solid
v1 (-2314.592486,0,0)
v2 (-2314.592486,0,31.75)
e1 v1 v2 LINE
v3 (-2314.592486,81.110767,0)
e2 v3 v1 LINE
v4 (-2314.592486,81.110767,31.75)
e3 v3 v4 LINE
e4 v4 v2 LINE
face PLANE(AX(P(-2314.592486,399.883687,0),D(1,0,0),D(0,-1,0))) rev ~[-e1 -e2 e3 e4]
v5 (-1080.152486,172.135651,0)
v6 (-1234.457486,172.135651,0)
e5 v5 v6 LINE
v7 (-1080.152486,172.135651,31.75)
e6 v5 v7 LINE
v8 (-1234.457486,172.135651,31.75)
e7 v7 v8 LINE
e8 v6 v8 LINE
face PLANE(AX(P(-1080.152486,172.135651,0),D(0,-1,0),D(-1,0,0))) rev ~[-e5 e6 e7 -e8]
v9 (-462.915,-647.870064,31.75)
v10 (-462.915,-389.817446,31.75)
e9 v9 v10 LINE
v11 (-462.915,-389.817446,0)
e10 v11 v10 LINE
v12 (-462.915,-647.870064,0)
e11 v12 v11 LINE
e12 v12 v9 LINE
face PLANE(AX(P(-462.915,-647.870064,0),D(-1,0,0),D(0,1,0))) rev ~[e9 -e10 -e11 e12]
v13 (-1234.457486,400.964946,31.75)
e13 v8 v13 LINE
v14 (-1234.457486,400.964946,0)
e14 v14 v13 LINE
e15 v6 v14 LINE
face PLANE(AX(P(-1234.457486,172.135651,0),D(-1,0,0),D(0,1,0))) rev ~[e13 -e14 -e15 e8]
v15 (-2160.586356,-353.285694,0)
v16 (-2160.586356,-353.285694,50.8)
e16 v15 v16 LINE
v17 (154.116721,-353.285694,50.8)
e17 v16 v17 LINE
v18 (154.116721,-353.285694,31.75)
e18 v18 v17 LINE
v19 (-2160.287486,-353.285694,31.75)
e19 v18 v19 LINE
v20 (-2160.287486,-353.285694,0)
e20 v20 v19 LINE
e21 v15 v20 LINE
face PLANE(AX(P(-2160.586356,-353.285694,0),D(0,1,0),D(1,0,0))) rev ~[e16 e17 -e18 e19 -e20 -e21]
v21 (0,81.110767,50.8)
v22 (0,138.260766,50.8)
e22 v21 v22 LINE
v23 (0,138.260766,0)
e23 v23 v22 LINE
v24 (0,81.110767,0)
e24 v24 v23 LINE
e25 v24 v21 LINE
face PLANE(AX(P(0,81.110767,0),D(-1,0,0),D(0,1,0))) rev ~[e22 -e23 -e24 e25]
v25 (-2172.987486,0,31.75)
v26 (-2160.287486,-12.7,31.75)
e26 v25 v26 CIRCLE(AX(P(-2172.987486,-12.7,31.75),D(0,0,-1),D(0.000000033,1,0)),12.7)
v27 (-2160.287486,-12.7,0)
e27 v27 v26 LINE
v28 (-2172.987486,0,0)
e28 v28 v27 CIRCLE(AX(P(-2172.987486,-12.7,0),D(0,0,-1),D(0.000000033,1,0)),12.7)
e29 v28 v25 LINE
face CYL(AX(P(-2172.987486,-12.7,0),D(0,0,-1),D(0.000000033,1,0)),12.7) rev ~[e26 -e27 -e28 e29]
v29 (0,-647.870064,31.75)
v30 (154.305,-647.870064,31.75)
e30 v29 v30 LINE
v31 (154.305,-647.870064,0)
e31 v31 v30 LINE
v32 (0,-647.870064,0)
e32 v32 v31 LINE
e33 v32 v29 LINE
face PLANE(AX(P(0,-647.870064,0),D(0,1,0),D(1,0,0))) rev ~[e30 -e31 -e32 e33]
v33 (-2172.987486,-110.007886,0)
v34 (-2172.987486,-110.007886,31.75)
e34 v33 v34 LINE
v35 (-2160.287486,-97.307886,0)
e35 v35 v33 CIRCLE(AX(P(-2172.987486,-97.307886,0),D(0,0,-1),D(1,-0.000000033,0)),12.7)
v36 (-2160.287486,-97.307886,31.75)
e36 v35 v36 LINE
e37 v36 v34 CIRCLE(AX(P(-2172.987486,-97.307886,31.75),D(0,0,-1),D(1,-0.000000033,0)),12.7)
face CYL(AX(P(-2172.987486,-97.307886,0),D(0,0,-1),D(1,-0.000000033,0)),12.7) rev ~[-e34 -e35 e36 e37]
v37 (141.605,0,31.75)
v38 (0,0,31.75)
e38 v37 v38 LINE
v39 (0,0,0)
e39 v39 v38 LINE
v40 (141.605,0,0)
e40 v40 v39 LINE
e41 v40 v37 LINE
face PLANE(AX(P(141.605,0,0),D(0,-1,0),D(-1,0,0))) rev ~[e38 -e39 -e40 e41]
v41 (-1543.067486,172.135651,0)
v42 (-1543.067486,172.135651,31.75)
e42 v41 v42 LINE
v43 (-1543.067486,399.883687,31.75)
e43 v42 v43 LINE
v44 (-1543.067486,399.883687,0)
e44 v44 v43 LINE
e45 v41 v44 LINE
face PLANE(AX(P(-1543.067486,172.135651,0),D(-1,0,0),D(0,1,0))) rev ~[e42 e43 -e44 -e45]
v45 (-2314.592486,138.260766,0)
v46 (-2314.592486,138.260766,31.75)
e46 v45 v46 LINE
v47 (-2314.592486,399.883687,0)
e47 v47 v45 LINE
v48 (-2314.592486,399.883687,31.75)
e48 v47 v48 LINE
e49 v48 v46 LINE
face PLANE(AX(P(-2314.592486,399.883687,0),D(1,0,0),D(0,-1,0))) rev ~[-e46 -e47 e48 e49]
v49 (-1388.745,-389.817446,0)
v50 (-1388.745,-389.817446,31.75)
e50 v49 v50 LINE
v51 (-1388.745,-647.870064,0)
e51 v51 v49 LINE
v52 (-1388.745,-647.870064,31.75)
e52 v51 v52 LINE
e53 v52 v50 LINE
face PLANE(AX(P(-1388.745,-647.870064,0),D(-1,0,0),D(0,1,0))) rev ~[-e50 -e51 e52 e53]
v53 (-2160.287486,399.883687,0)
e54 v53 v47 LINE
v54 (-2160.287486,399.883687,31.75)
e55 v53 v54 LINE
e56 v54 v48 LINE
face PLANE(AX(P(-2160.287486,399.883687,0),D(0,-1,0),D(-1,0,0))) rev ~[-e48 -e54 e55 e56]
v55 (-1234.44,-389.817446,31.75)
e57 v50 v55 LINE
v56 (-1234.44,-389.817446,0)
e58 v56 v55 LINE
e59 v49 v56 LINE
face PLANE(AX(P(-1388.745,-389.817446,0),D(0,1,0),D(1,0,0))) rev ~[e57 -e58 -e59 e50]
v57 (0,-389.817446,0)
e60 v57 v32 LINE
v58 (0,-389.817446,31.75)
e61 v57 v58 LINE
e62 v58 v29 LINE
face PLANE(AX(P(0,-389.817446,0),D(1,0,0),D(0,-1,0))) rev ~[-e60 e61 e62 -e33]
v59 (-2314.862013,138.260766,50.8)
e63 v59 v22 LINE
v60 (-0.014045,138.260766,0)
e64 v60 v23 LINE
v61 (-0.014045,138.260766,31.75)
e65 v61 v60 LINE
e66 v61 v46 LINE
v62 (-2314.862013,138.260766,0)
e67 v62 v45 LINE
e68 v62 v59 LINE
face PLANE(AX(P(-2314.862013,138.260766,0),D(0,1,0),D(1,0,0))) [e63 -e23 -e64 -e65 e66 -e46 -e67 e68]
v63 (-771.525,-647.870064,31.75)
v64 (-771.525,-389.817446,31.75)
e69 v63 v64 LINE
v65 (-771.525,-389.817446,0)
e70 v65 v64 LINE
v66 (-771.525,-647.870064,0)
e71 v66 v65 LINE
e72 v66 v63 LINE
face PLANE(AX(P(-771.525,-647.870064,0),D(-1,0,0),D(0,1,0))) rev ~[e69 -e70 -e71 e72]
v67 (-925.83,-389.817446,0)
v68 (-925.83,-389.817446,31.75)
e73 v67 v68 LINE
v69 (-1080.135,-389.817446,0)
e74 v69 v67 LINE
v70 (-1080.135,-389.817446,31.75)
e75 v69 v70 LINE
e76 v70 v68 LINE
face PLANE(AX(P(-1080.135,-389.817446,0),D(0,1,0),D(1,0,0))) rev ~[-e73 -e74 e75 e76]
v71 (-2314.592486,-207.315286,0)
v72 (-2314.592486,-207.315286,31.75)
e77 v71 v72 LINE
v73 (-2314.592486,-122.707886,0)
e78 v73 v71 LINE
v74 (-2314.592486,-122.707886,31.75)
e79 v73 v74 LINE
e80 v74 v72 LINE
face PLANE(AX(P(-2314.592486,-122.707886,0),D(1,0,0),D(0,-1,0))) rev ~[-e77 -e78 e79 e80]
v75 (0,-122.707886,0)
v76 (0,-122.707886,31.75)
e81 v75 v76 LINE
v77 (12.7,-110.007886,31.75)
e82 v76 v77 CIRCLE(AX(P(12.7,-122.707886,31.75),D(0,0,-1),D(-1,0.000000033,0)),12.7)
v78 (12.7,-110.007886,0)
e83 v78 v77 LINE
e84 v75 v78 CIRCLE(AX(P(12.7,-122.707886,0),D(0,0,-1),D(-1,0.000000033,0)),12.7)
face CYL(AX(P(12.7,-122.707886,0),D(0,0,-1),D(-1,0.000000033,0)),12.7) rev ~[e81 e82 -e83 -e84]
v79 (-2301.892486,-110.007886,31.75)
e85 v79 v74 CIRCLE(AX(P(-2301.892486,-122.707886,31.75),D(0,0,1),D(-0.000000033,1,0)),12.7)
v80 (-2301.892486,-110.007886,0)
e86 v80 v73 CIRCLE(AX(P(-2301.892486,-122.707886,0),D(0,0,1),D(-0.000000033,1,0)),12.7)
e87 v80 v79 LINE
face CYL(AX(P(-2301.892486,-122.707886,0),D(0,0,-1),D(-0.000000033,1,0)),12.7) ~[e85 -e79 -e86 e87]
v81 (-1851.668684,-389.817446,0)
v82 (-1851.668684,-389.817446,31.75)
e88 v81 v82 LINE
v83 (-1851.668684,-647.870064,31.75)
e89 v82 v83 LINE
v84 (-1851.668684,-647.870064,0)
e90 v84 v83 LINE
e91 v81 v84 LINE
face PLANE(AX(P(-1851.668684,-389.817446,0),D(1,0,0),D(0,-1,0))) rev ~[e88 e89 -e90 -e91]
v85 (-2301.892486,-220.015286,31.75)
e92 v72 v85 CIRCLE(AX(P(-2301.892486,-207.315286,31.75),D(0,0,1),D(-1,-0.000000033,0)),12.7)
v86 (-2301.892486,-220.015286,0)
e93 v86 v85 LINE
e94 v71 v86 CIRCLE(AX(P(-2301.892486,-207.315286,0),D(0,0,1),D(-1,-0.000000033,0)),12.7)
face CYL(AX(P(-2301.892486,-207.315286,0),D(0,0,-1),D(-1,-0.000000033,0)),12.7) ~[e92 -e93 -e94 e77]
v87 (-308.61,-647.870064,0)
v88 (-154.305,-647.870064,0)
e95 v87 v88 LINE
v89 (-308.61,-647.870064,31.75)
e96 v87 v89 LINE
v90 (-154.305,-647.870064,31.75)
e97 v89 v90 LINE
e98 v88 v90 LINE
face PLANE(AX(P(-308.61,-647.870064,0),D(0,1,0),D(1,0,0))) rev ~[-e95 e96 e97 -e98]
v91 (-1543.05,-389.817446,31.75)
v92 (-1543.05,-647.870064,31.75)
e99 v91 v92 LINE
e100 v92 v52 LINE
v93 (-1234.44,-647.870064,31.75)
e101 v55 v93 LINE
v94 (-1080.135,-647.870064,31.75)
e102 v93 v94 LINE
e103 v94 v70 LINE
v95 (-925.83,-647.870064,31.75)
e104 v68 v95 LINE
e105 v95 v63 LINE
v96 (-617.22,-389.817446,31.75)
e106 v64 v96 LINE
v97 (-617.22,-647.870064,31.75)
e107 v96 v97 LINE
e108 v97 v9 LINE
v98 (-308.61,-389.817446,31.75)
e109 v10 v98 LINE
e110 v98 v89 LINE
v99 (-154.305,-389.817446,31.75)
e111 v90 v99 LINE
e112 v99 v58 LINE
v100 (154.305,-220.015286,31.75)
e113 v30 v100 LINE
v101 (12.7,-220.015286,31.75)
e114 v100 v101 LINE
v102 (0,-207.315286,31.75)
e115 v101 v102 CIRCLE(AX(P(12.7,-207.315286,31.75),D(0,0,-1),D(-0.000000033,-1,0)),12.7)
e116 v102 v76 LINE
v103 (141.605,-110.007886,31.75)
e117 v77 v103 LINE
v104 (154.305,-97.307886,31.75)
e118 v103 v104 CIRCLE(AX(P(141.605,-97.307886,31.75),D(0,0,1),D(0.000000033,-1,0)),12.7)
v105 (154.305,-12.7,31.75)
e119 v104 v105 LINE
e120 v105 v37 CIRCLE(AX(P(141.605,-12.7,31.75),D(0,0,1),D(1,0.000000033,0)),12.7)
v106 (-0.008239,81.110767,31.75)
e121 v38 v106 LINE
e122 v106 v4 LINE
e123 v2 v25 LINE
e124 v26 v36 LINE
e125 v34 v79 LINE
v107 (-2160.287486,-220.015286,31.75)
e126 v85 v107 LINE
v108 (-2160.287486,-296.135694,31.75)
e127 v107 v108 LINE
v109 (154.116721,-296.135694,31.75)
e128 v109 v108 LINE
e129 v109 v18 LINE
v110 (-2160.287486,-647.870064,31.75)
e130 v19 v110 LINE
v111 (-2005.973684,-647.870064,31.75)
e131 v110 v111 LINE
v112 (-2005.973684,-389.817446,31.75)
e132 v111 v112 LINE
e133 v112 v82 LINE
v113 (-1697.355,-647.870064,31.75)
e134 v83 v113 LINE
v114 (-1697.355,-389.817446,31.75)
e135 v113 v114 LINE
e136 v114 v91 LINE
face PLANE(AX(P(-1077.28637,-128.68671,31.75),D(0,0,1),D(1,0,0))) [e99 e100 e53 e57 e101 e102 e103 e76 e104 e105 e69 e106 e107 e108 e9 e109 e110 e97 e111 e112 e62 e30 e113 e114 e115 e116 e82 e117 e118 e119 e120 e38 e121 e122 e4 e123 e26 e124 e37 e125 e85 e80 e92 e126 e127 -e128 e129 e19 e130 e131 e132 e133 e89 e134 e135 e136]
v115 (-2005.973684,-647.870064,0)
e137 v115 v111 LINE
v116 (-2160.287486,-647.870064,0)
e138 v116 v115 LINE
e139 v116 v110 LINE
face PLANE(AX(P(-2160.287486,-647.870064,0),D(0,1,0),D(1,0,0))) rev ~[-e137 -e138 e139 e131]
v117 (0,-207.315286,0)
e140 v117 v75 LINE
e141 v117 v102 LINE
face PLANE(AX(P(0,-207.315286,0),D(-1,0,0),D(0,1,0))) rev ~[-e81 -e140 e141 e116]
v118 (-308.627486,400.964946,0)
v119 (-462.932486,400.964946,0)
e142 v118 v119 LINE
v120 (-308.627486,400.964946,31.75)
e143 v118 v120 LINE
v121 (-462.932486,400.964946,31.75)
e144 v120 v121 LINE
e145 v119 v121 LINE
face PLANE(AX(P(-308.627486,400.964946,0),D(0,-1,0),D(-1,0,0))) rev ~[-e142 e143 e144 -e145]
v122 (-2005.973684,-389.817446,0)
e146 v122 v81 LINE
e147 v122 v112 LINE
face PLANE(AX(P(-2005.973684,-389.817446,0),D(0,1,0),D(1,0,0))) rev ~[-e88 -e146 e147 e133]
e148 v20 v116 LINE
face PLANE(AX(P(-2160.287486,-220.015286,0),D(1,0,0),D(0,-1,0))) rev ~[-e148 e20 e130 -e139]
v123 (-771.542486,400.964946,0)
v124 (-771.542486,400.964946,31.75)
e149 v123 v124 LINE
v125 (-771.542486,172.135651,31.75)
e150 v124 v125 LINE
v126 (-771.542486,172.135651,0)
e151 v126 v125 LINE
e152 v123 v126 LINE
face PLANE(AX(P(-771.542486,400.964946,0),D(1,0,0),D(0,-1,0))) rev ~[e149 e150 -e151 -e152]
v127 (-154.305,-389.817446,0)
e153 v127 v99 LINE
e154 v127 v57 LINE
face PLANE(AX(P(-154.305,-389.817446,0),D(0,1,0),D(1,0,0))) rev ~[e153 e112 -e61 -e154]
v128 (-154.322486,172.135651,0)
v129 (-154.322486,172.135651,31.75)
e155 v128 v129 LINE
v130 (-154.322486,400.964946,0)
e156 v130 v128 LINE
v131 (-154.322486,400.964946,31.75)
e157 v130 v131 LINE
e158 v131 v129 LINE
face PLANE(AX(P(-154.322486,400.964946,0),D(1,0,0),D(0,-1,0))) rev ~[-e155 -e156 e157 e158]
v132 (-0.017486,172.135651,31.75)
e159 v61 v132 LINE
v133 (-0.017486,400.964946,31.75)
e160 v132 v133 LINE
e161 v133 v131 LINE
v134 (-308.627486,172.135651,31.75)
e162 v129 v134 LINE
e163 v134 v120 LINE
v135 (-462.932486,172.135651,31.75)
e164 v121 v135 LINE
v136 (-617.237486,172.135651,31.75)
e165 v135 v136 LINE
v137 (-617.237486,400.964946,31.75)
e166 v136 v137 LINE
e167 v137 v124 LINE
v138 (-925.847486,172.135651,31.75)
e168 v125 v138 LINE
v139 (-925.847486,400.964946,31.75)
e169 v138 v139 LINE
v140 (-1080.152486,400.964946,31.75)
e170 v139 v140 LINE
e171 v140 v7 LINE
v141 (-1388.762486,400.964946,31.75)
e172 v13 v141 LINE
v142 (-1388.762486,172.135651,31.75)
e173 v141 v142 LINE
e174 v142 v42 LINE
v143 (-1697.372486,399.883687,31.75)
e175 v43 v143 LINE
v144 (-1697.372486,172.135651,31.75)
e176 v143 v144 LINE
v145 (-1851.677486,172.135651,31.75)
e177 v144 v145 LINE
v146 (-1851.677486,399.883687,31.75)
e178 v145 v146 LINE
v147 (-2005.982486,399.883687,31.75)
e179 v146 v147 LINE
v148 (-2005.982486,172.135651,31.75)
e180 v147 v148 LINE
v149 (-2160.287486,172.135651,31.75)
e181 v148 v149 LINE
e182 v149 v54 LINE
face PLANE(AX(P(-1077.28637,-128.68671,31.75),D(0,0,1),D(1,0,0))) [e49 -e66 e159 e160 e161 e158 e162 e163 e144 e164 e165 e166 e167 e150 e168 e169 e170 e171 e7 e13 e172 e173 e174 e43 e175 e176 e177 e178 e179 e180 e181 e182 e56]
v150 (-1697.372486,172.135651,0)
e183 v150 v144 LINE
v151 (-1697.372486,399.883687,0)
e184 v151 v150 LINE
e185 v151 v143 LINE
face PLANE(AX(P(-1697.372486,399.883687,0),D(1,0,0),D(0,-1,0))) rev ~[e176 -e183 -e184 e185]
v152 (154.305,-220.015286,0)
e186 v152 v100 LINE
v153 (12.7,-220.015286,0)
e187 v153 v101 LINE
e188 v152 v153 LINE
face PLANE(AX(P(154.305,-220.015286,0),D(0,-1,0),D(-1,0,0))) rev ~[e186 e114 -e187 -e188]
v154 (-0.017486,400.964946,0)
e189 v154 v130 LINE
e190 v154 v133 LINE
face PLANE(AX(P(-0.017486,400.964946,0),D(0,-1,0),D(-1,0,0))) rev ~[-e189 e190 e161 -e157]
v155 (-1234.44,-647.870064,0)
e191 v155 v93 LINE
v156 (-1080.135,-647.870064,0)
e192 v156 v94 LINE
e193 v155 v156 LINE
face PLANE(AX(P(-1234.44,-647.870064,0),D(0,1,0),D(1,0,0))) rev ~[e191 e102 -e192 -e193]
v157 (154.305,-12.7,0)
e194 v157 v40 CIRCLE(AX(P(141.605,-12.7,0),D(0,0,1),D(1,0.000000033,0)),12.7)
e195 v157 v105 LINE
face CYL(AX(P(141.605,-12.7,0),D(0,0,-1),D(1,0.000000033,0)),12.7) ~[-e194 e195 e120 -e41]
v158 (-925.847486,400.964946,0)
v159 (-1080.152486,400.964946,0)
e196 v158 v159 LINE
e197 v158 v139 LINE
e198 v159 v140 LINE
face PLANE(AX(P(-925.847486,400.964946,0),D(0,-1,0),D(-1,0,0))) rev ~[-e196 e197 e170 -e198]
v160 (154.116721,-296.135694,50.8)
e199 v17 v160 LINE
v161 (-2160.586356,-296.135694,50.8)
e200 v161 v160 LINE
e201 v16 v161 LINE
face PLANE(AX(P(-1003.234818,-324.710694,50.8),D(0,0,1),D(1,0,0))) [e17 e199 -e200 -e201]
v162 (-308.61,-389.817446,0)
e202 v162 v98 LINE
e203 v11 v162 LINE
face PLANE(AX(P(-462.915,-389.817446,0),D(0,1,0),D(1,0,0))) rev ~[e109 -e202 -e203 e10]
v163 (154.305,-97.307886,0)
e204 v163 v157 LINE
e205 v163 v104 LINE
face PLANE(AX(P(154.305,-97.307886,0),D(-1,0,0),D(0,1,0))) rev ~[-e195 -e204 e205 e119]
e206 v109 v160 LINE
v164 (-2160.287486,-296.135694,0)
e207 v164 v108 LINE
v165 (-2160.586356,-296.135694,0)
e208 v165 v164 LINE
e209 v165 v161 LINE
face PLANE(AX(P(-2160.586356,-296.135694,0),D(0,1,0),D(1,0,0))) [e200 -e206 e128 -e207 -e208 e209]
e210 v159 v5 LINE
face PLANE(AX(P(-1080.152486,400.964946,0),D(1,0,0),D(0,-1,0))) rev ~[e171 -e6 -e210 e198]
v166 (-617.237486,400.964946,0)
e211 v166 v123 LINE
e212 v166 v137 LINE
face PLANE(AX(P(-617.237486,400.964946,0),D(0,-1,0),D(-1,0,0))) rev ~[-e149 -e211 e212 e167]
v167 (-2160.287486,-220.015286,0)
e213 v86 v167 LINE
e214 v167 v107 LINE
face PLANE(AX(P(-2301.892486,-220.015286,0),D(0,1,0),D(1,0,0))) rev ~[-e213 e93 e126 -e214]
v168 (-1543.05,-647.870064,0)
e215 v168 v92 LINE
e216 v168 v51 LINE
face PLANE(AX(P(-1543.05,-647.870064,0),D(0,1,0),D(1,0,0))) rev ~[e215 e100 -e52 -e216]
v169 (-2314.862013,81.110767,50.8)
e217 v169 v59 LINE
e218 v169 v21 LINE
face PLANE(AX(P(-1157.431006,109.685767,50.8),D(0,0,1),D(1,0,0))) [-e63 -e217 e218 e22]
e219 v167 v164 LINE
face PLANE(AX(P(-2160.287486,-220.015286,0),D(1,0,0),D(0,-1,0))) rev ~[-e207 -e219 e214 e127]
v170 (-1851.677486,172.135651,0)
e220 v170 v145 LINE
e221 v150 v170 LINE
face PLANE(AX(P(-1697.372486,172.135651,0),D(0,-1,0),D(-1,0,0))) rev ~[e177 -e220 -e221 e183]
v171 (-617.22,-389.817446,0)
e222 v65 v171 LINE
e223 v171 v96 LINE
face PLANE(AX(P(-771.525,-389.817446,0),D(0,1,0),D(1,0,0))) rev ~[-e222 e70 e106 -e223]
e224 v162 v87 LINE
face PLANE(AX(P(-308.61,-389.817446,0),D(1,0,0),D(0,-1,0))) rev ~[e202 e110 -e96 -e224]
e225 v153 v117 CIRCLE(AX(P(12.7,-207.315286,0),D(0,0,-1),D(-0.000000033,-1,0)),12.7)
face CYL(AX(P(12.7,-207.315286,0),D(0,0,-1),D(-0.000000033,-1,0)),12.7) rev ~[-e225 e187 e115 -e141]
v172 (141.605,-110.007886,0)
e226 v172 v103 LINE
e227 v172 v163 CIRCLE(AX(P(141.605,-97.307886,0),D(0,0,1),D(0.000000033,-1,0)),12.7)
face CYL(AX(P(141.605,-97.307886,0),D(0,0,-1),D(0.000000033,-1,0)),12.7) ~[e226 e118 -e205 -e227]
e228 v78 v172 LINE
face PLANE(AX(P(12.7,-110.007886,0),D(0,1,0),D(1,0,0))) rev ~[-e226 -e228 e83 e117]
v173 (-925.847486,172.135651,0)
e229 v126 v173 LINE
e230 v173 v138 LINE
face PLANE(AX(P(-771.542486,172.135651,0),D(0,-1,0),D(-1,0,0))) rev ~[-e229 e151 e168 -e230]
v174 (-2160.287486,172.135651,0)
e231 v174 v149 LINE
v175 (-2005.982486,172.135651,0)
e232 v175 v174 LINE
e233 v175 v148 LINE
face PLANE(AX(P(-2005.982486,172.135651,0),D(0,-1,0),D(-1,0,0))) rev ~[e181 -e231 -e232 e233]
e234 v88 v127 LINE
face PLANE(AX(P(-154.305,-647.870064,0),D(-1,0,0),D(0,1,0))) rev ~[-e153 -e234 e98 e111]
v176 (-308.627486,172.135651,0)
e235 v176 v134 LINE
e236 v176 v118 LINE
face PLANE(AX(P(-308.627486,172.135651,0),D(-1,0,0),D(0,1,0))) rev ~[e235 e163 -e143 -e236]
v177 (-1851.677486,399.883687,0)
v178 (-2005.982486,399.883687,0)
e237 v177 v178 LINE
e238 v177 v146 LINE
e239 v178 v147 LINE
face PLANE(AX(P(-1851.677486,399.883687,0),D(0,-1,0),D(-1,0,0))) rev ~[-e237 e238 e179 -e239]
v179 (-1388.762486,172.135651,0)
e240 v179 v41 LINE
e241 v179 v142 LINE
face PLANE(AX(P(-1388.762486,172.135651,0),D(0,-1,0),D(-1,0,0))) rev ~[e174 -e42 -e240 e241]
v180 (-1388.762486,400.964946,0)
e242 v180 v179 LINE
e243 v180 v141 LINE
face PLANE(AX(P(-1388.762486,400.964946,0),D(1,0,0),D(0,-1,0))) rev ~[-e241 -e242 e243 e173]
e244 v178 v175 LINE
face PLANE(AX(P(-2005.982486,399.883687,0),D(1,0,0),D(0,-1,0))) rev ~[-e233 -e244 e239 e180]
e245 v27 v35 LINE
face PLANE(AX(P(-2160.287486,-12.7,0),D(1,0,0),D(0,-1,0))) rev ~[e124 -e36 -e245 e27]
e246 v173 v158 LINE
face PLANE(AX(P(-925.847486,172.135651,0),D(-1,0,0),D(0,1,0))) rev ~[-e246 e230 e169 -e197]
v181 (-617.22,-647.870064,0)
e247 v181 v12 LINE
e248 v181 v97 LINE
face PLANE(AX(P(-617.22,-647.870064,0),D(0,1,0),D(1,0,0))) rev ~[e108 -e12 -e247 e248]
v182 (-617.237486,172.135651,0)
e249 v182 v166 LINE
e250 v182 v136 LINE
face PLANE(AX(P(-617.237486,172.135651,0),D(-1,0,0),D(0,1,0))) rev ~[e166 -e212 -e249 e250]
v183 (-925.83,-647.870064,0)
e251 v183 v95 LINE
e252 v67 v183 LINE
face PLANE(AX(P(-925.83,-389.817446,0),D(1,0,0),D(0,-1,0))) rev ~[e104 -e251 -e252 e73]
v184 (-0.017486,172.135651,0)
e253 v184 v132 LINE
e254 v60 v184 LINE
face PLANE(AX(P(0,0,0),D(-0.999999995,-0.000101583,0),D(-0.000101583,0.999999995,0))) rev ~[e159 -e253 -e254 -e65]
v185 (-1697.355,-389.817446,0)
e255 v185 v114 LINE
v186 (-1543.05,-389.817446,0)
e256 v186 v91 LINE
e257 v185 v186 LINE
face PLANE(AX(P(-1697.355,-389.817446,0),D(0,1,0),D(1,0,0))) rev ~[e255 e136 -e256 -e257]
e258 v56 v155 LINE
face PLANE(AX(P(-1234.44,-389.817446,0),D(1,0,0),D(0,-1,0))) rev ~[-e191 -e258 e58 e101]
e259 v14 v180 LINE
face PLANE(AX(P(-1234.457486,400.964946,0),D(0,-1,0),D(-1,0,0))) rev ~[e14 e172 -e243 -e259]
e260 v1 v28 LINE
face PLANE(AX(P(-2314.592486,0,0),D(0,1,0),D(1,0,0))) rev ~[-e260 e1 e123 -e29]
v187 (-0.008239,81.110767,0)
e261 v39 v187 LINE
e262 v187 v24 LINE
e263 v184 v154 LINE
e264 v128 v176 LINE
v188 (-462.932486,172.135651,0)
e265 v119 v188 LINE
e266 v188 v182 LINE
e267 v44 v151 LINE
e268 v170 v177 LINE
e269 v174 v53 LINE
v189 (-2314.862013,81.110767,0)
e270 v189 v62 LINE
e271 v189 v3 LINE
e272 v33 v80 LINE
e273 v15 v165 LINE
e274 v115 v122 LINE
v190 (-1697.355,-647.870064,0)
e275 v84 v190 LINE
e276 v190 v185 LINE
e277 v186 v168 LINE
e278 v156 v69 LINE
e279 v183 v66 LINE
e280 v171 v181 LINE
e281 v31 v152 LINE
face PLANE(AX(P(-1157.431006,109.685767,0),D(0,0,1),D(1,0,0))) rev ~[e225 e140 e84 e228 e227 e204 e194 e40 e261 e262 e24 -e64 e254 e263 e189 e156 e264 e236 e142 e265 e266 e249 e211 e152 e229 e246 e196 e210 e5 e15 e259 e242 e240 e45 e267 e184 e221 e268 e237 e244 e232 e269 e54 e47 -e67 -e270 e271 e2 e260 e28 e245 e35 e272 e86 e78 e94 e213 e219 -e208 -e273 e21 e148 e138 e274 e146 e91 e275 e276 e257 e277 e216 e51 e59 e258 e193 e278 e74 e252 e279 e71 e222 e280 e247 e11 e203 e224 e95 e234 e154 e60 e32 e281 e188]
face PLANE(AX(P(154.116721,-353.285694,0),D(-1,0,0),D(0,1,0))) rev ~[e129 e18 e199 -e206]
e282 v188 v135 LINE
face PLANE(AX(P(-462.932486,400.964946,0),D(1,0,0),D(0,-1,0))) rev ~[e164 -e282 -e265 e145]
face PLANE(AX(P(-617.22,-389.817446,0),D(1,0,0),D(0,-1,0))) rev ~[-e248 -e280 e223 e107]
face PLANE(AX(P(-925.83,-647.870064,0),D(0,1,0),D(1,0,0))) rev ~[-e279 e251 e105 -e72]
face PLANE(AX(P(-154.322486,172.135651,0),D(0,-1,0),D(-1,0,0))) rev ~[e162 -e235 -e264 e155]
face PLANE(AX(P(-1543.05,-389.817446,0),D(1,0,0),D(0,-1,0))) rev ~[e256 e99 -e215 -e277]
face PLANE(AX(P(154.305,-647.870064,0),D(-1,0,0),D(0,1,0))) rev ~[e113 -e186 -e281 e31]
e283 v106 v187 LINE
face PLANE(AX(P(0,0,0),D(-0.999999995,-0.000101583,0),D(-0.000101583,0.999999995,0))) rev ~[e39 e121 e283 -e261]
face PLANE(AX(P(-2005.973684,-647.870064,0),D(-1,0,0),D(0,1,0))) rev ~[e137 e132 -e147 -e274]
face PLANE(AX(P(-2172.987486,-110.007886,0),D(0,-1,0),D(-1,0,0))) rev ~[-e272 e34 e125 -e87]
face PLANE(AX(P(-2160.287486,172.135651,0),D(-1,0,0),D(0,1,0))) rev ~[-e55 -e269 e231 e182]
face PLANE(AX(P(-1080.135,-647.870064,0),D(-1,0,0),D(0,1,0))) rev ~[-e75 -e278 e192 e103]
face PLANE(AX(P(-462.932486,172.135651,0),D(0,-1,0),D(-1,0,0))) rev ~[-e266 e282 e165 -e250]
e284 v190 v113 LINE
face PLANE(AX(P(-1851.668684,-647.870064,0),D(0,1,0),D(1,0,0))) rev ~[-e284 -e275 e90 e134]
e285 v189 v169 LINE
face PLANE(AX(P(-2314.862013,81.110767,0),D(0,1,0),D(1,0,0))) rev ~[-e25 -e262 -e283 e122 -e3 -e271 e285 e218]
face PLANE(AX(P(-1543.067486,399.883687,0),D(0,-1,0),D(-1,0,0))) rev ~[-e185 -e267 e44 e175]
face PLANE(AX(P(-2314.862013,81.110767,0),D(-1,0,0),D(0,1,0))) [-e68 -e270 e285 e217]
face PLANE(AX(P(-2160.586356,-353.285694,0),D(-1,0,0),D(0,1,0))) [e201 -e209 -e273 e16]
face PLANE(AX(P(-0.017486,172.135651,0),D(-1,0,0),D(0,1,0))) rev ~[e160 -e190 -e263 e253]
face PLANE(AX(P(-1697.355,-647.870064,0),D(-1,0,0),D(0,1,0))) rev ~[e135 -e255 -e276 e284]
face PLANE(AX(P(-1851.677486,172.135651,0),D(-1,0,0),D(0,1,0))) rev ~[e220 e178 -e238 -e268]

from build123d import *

# Parameters (mm, degrees)
F2_DEPTH = 31.75
F1_W     = 2314.862013
F1_H     = 57.149999
F1_W_2   = 2314.703077
F1_H_2   = 57.15
F3_DEPTH = 50.8


with BuildPart() as f2:
    # F0 (on Top) → F2 (new body)
    with BuildSketch(Plane.XY):
        with BuildLine():
            Line((141.605, 0), (0, 0))
            Line((0, 0), (-0.017486, 172.135651))
            Line((-0.017486, 172.135651), (-0.017486, 400.964946))
            Line((-0.017486, 400.964946), (-154.322486, 400.964946))
            Line((-154.322486, 400.964946), (-154.322486, 172.135651))
            Line((-154.322486, 172.135651), (-308.627486, 172.135651))
            Line((-308.627486, 172.135651), (-308.627486, 400.964946))
            Line((-308.627486, 400.964946), (-462.932486, 400.964946))
            Line((-462.932486, 400.964946), (-462.932486, 172.135651))
            Line((-462.932486, 172.135651), (-617.237486, 172.135651))
            Line((-617.237486, 172.135651), (-617.237486, 400.964946))
            Line((-617.237486, 400.964946), (-771.542486, 400.964946))
            Line((-771.542486, 400.964946), (-771.542486, 172.135651))
            Line((-771.542486, 172.135651), (-925.847486, 172.135651))
            Line((-925.847486, 172.135651), (-925.847486, 400.964946))
            Line((-925.847486, 400.964946), (-1080.152486, 400.964946))
            Line((-1080.152486, 400.964946), (-1080.152486, 172.135651))
            Line((-1080.152486, 172.135651), (-1234.457486, 172.135651))
            Line((-1234.457486, 172.135651), (-1234.457486, 400.964946))
            Line((-1234.457486, 400.964946), (-1388.762486, 400.964946))
            Line((-1388.762486, 400.964946), (-1388.762486, 172.135651))
            Line((-1388.762486, 172.135651), (-1543.067486, 172.135651))
            Line((-1543.067486, 172.135651), (-1543.067486, 399.883687))
            Line((-1543.067486, 399.883687), (-1697.372486, 399.883687))
            Line((-1697.372486, 399.883687), (-1697.372486, 172.135651))
            Line((-1697.372486, 172.135651), (-1851.677486, 172.135651))
            Line((-1851.677486, 172.135651), (-1851.677486, 399.883687))
            Line((-1851.677486, 399.883687), (-2005.982486, 399.883687))
            Line((-2005.982486, 399.883687), (-2005.982486, 172.135651))
            Line((-2005.982486, 172.135651), (-2160.287486, 172.135651))
            Line((-2160.287486, 172.135651), (-2160.287486, 399.883687))
            Line((-2160.287486, 399.883687), (-2314.592486, 399.883687))
            Line((-2314.592486, 399.883687), (-2314.592486, 0))
            Line((-2314.592486, 0), (-2172.987486, 0))
            ThreePointArc((-2172.987486, 0), (-2164.00723, -3.719744), (-2160.287486, -12.7))
            Line((-2160.287486, -12.7), (-2160.287486, -97.307886))
            ThreePointArc((-2160.287486, -97.307886), (-2164.00723, -106.288142), (-2172.987486, -110.007886))
            Line((-2172.987486, -110.007886), (-2301.892486, -110.007886))
            ThreePointArc((-2301.892486, -110.007886), (-2310.872742, -113.72763), (-2314.592486, -122.707886))
            Line((-2314.592486, -122.707886), (-2314.592486, -207.315286))
            ThreePointArc((-2314.592486, -207.315286), (-2310.872742, -216.295542), (-2301.892486, -220.015286))
            Line((-2301.892486, -220.015286), (-2160.287486, -220.015286))
            Line((-2160.287486, -220.015286), (-2160.287486, -647.870064))
            Line((-2160.287486, -647.870064), (-2005.973684, -647.870064))
            Line((-2005.973684, -647.870064), (-2005.973684, -389.817446))
            Line((-2005.973684, -389.817446), (-1851.668684, -389.817446))
            Line((-1851.668684, -389.817446), (-1851.668684, -647.870064))
            Line((-1851.668684, -647.870064), (-1697.355, -647.870064))
            Line((-1697.355, -647.870064), (-1697.355, -389.817446))
            Line((-1697.355, -389.817446), (-1543.05, -389.817446))
            Line((-1543.05, -389.817446), (-1543.05, -647.870064))
            Line((-1543.05, -647.870064), (-1388.745, -647.870064))
            Line((-1388.745, -647.870064), (-1388.745, -389.817446))
            Line((-1388.745, -389.817446), (-1234.44, -389.817446))
            Line((-1234.44, -389.817446), (-1234.44, -647.870064))
            Line((-1234.44, -647.870064), (-1080.135, -647.870064))
            Line((-1080.135, -647.870064), (-1080.135, -389.817446))
            Line((-1080.135, -389.817446), (-925.83, -389.817446))
            Line((-925.83, -389.817446), (-925.83, -647.870064))
            Line((-925.83, -647.870064), (-771.525, -647.870064))
            Line((-771.525, -647.870064), (-771.525, -389.817446))
            Line((-771.525, -389.817446), (-617.22, -389.817446))
            Line((-617.22, -389.817446), (-617.22, -647.870064))
            Line((-617.22, -647.870064), (-462.915, -647.870064))
            Line((-462.915, -647.870064), (-462.915, -389.817446))
            Line((-462.915, -389.817446), (-308.61, -389.817446))
            Line((-308.61, -389.817446), (-308.61, -647.870064))
            Line((-308.61, -647.870064), (-154.305, -647.870064))
            Line((-154.305, -647.870064), (-154.305, -389.817446))
            Line((-154.305, -389.817446), (0, -389.817446))
            Line((0, -389.817446), (0, -647.870064))
            Line((0, -647.870064), (154.305, -647.870064))
            Line((154.305, -647.870064), (154.305, -220.015286))
            Line((154.305, -220.015286), (12.7, -220.015286))
            ThreePointArc((12.7, -220.015286), (3.719744, -216.295542), (0, -207.315286))
            Line((0, -207.315286), (0, -122.707886))
            ThreePointArc((0, -122.707886), (3.719744, -113.72763), (12.7, -110.007886))
            Line((12.7, -110.007886), (141.605, -110.007886))
            ThreePointArc((141.605, -110.007886), (150.585256, -106.288142), (154.305, -97.307886))
            Line((154.305, -97.307886), (154.305, -12.7))
            ThreePointArc((154.305, -12.7), (150.585256, -3.719744), (141.605, 0))
        make_face()
    extrude(amount=F2_DEPTH)

    # F1 (on face) → F3 (join)
    with BuildSketch(Plane.XY):
        with Locations((-1157.431006, 109.685767)):
            Rectangle(F1_W, F1_H)
        with Locations((-1003.234818, -324.710694)):
            Rectangle(F1_W_2, F1_H_2)
    extrude(amount=F3_DEPTH)


solid = f2.part
